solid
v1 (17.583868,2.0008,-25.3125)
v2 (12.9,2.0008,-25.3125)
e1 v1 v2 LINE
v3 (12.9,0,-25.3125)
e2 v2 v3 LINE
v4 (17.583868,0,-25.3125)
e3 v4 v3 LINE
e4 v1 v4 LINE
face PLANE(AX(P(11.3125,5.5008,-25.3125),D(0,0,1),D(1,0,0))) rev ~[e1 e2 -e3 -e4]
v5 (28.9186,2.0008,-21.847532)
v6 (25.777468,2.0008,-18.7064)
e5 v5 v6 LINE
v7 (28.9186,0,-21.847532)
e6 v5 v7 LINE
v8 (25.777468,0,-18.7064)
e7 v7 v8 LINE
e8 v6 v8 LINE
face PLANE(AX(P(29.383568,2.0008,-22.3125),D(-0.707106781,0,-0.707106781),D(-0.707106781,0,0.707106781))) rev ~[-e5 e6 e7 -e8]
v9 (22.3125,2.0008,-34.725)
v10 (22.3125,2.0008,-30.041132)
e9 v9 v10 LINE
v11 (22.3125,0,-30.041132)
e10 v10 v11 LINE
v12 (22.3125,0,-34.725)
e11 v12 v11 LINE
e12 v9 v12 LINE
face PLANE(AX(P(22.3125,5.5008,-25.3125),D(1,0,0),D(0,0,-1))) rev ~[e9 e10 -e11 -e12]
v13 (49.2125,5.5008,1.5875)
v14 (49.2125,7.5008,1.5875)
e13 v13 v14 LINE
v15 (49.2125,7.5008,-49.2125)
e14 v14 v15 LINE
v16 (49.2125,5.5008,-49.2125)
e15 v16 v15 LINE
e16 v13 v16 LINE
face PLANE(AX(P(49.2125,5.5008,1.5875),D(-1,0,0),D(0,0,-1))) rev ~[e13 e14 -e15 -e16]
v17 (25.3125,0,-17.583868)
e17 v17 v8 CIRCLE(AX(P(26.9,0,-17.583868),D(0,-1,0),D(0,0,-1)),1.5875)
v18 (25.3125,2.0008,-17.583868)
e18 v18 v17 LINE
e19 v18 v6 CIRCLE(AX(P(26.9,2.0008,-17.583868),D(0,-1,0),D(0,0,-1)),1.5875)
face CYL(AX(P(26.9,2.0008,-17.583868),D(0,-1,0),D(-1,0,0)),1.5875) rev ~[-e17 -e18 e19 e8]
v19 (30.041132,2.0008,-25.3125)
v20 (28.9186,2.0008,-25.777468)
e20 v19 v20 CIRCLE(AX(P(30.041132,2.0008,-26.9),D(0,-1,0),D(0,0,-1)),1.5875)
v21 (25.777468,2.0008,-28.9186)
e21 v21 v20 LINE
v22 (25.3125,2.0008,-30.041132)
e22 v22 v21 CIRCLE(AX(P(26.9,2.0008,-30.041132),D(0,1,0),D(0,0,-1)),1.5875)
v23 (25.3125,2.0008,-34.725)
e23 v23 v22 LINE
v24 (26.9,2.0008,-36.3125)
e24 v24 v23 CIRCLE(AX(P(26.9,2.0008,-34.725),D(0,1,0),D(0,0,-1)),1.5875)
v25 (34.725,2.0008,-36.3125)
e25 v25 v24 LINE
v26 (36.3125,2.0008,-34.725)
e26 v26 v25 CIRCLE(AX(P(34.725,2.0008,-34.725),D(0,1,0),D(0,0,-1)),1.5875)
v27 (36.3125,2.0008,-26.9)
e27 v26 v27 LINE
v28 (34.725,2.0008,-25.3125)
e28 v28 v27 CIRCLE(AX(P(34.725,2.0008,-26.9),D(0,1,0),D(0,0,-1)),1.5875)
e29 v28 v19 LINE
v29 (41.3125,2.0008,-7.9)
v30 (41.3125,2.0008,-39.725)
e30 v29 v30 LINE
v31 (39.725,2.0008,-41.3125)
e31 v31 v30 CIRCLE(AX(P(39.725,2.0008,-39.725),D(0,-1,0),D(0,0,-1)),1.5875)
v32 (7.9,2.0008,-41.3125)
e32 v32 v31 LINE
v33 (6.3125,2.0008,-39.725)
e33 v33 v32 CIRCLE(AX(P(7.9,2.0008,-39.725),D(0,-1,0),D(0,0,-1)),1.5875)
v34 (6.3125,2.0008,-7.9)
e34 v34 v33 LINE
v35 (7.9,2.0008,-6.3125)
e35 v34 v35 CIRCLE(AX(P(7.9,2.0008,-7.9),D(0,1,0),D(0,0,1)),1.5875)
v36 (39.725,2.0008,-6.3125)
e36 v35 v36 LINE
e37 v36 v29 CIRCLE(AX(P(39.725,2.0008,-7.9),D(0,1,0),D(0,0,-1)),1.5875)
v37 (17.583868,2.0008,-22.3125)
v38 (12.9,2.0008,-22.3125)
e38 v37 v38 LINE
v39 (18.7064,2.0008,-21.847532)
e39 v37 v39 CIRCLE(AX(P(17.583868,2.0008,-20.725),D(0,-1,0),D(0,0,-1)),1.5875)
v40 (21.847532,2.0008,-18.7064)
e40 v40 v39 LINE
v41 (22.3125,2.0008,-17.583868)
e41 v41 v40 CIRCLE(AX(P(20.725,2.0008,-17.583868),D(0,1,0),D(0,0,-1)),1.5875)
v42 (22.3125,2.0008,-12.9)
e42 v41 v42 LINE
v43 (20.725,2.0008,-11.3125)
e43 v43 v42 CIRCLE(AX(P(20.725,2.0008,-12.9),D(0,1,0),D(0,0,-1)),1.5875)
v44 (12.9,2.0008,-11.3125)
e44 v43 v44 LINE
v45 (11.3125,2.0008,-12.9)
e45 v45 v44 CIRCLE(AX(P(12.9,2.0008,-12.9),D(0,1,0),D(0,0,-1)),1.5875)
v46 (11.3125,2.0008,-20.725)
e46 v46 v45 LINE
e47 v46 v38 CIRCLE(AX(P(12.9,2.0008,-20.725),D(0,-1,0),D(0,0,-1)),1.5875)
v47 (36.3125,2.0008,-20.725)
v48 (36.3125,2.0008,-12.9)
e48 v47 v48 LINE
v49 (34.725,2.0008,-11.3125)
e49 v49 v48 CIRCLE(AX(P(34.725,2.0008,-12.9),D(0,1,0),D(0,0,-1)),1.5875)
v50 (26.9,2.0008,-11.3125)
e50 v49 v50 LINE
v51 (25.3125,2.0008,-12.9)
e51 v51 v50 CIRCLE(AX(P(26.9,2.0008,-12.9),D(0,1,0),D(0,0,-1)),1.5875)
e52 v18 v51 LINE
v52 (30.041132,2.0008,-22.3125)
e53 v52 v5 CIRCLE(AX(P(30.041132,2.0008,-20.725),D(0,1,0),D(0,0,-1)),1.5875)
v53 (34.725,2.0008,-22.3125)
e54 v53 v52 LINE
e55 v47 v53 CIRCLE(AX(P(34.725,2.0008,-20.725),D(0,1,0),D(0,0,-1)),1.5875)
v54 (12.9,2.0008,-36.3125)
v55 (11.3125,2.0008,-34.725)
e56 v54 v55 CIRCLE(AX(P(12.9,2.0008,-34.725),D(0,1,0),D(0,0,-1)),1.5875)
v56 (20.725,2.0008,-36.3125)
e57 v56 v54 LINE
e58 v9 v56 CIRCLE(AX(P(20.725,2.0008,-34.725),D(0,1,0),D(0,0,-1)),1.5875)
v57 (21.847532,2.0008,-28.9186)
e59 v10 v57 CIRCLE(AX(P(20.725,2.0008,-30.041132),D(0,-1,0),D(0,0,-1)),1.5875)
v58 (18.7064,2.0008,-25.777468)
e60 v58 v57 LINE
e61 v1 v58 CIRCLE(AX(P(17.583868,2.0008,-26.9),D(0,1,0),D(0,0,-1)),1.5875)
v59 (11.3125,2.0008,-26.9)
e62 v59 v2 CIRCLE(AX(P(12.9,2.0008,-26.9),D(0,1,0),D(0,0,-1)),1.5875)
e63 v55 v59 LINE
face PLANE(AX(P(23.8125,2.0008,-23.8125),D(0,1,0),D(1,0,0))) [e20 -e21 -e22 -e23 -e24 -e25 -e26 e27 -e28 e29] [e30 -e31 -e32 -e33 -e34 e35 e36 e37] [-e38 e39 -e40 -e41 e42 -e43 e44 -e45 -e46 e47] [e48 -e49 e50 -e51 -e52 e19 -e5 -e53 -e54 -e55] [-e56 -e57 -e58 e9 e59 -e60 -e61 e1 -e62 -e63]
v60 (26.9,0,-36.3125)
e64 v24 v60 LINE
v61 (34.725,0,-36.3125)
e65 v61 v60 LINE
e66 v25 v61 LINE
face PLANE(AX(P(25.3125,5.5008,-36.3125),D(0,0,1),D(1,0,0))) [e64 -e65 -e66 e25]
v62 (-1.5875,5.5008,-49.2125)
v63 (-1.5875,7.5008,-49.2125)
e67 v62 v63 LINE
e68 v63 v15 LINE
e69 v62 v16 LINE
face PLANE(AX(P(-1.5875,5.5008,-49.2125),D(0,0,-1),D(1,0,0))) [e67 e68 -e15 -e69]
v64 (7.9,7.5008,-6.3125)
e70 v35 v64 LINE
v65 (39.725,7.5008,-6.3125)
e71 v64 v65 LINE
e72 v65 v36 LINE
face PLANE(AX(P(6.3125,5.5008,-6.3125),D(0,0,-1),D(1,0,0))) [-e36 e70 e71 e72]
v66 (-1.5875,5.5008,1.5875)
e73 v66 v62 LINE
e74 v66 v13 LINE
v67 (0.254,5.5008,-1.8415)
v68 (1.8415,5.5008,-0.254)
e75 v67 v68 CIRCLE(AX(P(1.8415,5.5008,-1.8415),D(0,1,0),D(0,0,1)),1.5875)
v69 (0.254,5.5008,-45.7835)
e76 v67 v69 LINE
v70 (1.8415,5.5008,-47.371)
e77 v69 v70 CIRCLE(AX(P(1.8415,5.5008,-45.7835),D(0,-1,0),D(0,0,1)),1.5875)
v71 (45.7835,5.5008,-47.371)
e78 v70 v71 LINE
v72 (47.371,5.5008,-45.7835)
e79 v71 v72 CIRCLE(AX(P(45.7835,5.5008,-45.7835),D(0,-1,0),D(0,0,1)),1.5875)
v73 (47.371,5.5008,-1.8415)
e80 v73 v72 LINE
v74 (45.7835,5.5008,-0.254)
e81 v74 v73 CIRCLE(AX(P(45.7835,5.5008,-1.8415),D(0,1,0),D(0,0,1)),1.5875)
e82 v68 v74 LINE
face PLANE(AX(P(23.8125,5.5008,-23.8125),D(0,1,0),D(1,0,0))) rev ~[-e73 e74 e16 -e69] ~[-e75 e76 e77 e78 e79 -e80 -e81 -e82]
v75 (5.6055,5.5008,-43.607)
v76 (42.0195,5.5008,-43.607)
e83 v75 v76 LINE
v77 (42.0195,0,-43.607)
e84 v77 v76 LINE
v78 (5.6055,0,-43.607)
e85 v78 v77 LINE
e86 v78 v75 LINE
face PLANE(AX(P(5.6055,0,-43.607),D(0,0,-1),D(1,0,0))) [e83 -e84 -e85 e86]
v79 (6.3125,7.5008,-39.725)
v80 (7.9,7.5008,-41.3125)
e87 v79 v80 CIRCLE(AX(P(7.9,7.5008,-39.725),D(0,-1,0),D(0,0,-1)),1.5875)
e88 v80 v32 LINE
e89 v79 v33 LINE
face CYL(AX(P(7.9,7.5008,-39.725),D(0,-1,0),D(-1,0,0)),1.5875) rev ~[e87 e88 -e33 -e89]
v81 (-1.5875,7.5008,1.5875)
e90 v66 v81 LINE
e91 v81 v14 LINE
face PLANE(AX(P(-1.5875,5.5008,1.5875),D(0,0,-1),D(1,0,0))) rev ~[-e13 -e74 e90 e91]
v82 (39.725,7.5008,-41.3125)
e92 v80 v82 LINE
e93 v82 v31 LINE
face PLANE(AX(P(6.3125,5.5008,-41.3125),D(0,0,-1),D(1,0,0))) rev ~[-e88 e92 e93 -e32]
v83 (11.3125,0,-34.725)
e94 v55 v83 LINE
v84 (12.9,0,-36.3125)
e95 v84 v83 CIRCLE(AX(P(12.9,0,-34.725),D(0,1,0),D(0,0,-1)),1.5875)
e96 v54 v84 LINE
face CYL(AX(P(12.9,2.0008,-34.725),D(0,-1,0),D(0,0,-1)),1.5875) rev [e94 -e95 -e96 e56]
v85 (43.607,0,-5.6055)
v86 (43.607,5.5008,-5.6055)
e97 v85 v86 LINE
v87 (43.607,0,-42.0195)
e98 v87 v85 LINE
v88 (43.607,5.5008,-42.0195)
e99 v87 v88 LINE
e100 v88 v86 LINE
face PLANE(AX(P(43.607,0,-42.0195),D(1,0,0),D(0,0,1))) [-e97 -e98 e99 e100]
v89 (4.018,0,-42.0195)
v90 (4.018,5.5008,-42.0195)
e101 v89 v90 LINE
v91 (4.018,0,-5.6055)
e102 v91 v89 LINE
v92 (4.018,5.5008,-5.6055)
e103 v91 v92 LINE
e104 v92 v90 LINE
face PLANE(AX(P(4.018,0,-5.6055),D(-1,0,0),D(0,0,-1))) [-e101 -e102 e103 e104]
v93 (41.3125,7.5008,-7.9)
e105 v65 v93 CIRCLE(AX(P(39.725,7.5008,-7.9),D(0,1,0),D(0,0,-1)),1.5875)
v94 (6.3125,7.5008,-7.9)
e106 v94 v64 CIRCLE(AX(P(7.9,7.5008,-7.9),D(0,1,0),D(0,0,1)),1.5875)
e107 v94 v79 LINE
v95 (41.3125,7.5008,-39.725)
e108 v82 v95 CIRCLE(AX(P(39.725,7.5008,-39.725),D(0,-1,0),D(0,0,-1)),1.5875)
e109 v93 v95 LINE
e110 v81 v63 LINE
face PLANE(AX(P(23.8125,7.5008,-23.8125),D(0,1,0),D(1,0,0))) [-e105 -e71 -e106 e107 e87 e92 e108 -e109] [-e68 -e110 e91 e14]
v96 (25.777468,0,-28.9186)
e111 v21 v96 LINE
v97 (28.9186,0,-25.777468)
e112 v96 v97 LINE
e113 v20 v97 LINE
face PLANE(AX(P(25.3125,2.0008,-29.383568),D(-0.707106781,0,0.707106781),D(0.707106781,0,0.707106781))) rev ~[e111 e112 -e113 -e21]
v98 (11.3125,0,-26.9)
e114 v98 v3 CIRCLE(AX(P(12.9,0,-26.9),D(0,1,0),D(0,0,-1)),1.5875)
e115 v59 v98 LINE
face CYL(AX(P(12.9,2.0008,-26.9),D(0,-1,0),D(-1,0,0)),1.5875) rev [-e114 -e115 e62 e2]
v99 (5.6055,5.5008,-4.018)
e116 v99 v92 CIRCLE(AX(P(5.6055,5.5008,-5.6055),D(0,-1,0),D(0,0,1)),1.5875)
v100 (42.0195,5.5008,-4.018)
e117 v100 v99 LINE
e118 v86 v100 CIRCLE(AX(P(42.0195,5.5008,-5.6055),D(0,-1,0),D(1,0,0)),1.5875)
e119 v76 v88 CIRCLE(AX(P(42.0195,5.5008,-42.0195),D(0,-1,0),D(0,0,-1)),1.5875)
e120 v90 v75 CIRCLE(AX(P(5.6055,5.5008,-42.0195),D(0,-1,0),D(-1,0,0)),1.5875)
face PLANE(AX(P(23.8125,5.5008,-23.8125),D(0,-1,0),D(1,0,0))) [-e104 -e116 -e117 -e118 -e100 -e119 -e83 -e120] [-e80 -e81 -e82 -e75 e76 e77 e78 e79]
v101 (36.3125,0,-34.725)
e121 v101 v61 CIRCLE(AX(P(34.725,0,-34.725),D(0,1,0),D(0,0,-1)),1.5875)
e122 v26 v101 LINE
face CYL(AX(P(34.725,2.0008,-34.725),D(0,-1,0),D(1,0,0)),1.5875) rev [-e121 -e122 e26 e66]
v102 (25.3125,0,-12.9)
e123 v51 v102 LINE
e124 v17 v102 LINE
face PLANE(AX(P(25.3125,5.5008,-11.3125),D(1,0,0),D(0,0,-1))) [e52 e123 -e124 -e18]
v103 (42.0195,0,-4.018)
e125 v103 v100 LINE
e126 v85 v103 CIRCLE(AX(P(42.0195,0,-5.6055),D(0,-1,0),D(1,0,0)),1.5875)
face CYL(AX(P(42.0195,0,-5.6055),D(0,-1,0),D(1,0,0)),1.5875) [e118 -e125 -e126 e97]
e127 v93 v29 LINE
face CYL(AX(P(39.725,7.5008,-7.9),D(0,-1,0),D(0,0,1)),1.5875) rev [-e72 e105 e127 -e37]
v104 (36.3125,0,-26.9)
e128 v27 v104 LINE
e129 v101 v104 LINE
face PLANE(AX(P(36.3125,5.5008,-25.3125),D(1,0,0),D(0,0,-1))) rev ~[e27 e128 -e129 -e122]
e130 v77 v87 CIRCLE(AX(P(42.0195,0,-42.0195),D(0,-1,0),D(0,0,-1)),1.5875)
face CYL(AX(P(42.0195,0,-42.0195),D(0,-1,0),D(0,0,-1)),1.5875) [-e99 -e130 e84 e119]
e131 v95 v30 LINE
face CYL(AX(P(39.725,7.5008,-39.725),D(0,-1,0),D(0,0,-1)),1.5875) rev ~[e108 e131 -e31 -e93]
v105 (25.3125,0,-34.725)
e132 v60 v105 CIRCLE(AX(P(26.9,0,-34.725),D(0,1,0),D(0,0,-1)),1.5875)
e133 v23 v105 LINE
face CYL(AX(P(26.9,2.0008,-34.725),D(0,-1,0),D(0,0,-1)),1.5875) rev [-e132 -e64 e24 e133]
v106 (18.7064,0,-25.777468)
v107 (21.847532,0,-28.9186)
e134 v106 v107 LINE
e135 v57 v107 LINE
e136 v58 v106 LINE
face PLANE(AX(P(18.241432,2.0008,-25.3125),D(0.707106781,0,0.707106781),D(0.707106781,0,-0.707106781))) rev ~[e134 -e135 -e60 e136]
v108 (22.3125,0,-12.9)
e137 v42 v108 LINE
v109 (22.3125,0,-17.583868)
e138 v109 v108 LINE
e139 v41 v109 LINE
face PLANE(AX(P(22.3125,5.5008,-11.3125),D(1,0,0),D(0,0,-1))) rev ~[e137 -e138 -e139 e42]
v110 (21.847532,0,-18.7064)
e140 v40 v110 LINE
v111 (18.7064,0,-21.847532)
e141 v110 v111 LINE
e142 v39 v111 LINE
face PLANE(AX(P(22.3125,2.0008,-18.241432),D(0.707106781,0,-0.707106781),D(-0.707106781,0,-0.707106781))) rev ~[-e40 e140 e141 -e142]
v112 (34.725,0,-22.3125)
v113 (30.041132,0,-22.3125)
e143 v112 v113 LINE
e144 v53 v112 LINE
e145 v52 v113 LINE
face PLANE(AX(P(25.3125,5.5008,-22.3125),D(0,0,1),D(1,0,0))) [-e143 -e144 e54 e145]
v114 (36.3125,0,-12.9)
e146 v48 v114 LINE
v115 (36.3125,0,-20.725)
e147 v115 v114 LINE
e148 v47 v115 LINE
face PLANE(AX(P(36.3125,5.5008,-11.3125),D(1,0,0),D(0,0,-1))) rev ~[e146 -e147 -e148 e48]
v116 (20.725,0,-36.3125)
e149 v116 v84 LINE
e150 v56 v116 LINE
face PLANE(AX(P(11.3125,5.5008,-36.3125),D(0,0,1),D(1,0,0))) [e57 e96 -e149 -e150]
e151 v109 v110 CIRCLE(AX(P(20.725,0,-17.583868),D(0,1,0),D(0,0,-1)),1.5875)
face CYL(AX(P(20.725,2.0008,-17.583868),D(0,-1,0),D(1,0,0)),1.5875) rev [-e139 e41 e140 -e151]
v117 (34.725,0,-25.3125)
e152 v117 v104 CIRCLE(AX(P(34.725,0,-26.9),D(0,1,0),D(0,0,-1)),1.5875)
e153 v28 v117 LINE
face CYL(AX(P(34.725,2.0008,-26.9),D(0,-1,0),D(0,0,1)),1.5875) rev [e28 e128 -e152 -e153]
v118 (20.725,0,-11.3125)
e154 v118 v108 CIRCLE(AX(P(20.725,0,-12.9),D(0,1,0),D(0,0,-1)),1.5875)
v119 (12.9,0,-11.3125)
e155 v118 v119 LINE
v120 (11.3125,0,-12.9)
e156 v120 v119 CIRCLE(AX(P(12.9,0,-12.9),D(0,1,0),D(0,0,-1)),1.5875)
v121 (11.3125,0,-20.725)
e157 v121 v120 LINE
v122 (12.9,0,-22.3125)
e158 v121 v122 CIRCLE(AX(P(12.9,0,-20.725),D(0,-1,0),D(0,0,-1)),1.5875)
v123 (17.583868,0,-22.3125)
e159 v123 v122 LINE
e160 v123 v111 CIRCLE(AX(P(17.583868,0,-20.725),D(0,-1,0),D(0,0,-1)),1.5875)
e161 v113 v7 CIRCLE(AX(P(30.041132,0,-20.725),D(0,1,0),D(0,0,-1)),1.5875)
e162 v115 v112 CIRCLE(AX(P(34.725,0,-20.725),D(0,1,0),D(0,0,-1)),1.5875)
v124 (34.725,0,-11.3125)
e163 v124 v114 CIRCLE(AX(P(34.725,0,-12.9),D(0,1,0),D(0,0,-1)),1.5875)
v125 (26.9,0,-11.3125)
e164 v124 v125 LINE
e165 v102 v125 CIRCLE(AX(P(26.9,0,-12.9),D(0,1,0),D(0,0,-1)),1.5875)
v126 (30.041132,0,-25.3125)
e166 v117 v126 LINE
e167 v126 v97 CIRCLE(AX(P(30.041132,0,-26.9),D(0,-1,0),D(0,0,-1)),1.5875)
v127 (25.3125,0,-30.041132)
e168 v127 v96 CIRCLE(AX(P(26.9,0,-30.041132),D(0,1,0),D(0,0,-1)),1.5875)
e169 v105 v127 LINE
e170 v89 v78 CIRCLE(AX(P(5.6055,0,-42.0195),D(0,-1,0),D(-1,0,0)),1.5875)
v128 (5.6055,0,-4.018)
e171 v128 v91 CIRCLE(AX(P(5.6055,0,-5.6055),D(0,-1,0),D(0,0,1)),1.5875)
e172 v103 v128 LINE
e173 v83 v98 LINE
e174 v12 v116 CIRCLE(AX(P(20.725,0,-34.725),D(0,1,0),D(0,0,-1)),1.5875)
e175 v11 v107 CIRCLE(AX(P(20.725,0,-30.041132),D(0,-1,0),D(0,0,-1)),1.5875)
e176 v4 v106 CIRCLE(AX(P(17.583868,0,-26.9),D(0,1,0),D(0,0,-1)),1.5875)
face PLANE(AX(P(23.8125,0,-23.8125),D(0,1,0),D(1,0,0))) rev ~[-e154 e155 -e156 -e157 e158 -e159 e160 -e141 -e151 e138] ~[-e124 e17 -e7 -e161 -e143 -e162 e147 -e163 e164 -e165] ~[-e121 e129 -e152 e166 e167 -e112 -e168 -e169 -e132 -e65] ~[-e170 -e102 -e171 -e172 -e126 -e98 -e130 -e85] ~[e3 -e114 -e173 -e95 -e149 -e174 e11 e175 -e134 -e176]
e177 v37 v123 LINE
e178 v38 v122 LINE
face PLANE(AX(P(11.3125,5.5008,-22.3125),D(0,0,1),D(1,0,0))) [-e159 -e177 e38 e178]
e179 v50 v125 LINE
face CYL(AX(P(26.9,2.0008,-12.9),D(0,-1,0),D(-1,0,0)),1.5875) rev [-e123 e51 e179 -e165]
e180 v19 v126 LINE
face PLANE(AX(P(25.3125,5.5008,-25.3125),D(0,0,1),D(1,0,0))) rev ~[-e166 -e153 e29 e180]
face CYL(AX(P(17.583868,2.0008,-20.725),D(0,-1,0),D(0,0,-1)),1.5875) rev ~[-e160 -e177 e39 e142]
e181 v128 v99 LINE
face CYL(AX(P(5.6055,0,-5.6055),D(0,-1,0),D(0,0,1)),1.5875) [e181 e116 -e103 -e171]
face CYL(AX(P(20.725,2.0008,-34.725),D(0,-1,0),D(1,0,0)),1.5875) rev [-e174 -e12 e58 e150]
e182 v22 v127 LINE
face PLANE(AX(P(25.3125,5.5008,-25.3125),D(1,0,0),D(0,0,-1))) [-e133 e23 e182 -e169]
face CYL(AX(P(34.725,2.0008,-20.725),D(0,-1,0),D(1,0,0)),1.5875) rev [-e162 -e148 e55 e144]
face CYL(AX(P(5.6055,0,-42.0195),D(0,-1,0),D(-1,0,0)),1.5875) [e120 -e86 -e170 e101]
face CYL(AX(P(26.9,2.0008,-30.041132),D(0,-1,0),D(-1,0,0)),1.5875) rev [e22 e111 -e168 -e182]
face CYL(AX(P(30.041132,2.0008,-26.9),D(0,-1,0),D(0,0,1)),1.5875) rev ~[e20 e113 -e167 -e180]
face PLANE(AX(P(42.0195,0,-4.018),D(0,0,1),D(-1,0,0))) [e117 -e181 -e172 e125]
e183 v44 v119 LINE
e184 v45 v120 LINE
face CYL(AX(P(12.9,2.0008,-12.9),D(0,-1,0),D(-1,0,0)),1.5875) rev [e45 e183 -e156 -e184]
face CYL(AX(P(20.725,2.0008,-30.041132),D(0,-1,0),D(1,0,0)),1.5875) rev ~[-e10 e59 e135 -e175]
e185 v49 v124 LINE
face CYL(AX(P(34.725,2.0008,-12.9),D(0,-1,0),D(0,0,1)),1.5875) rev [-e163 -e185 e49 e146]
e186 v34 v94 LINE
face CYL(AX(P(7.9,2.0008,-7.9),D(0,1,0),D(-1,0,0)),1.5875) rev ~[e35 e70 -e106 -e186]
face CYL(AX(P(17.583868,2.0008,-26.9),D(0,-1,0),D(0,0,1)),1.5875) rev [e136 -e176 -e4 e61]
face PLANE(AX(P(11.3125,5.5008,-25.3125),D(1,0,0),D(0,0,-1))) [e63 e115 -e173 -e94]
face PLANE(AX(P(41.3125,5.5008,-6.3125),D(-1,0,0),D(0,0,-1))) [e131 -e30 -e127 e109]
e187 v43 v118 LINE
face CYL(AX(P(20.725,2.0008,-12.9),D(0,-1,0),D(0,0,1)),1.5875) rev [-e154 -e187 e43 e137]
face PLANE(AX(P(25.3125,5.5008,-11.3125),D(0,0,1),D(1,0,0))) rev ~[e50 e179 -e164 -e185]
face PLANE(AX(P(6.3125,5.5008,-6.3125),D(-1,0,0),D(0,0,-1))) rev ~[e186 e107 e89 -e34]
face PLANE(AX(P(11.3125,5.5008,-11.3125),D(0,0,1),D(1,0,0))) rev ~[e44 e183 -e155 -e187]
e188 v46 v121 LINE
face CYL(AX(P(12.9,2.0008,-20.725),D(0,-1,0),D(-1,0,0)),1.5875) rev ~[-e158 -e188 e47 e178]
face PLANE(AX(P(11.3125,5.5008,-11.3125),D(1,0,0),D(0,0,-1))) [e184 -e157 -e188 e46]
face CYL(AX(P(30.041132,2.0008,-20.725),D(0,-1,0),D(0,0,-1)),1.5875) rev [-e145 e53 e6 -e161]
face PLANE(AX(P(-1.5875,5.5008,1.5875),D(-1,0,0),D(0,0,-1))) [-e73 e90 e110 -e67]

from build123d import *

# Parameters (mm, degrees)
SKETCH3_W           = 47.117
SKETCH3_H           = 47.117
BOSS_EXTRUDE1_DEPTH = 5.500799822
CUT_EXTRUDE2_REACH  = 7.501
SKETCH6_W           = 11
SKETCH6_H           = 11
SKETCH7_W           = 50.8
SKETCH7_H           = 50.8
SKETCH7_W_2         = 35
SKETCH7_H_2         = 35
BOSS_EXTRUDE2_DEPTH = 1.999999976
SKETCH12_W          = 35
SKETCH12_H          = 35
CUT_EXTRUDE3_DEPTH  = 3.499999912
BOSS_EXTRUDE4_DEPTH = 2.0008
FILLET3_R           = 1.5875
CUT_EXTRUDE5_DEPTH  = 5.5008


with BuildPart() as part:
    # Sketch3 → Boss-Extrude1 (new body)
    with BuildSketch(Plane(origin=(0, 0, 0), x_dir=(1, 0, 0), z_dir=(0, 1, 0))):
        with Locations((23.8125, 23.8125)):
            Rectangle(SKETCH3_W, SKETCH3_H)
    extrude(amount=BOSS_EXTRUDE1_DEPTH)

    # Sketch6 → Cut-Extrude2 (cut, up to next)
    with BuildSketch(Plane(origin=(0, 5.500799822, 0), x_dir=(1, 0, 0), z_dir=(0, 1, 0)), mode=Mode.PRIVATE) as cut_extrude2_sk1:
        with Locations((16.8125, 30.8125)):
            Rectangle(SKETCH6_W, SKETCH6_H)
    cut_extrude2_tool1 = extrude(cut_extrude2_sk1.sketch, amount=-CUT_EXTRUDE2_REACH, mode=Mode.PRIVATE) & part.part
    add(cut_extrude2_tool1.solids().sort_by_distance((16.8125, 5.5008, -30.8125))[0], mode=Mode.SUBTRACT)
    # Sketch6 → Cut-Extrude2 (cut, up to next)
    with BuildSketch(Plane(origin=(0, 5.500799822, 0), x_dir=(1, 0, 0), z_dir=(0, 1, 0)), mode=Mode.PRIVATE) as cut_extrude2_sk2:
        with Locations((30.8125, 30.8125)):
            Rectangle(SKETCH6_W, SKETCH6_H)
    cut_extrude2_tool2 = extrude(cut_extrude2_sk2.sketch, amount=-CUT_EXTRUDE2_REACH, mode=Mode.PRIVATE) & part.part
    add(cut_extrude2_tool2.solids().sort_by_distance((30.8125, 5.5008, -30.8125))[0], mode=Mode.SUBTRACT)
    # Sketch6 → Cut-Extrude2 (cut, up to next)
    with BuildSketch(Plane(origin=(0, 5.500799822, 0), x_dir=(1, 0, 0), z_dir=(0, 1, 0)), mode=Mode.PRIVATE) as cut_extrude2_sk3:
        with Locations((30.8125, 16.8125)):
            Rectangle(SKETCH6_W, SKETCH6_H)
    cut_extrude2_tool3 = extrude(cut_extrude2_sk3.sketch, amount=-CUT_EXTRUDE2_REACH, mode=Mode.PRIVATE) & part.part
    add(cut_extrude2_tool3.solids().sort_by_distance((30.8125, 5.5008, -16.8125))[0], mode=Mode.SUBTRACT)
    # Sketch6 → Cut-Extrude2 (cut, up to next)
    with BuildSketch(Plane(origin=(0, 5.500799822, 0), x_dir=(1, 0, 0), z_dir=(0, 1, 0)), mode=Mode.PRIVATE) as cut_extrude2_sk4:
        with Locations((16.8125, 16.8125)):
            Rectangle(SKETCH6_W, SKETCH6_H)
    cut_extrude2_tool4 = extrude(cut_extrude2_sk4.sketch, amount=-CUT_EXTRUDE2_REACH, mode=Mode.PRIVATE) & part.part
    add(cut_extrude2_tool4.solids().sort_by_distance((16.8125, 5.5008, -16.8125))[0], mode=Mode.SUBTRACT)

    # Sketch7 → Boss-Extrude2 (add)
    with BuildSketch(Plane(origin=(0, 5.500799822, 0), x_dir=(1, 0, 0), z_dir=(0, 1, 0))):
        with Locations((23.8125, 23.8125)):
            Rectangle(SKETCH7_W, SKETCH7_H)
        with Locations((23.8125, 23.8125)):
            Rectangle(SKETCH7_W_2, SKETCH7_H_2, mode=Mode.SUBTRACT)
    extrude(amount=BOSS_EXTRUDE2_DEPTH)

    # Sketch12 → Cut-Extrude3 (cut)
    with BuildSketch(Plane(origin=(0, 5.500799822, 0), x_dir=(1, 0, 0), z_dir=(0, 1, 0))):
        with Locations((23.8125, 23.8125)):
            Rectangle(SKETCH12_W, SKETCH12_H)
    extrude(amount=-CUT_EXTRUDE3_DEPTH, mode=Mode.SUBTRACT)

    # Sketch11 → Boss-Extrude4 (add)
    with BuildSketch(Plane(origin=(0, 2.00079991, 0), x_dir=(1, 0, 0), z_dir=(0, 1, 0))):
        Polygon((22.3125, 29.383567812), (25.3125, 29.383567812), (29.383567812, 25.3125), (29.383567812, 22.3125), (25.3125, 18.241432188), (22.3125, 18.241432188), (18.241432188, 22.3125), (18.241432188, 25.3125), align=None)
    extrude(amount=-BOSS_EXTRUDE4_DEPTH)

    # Fillet3
    fillet3_edges = [part.edges().sort_by_distance(p)[0] for p in [
        (29.383567812, 1.00039991, -22.3125),
        (25.3125, 1.00039991, -18.241432188),
        (22.3125, 1.00039991, -18.241432188),
        (18.241432188, 1.00039991, -22.3125),
        (18.241432188, 1.00039991, -25.3125),
        (22.3125, 1.00039991, -29.383567812),
        (25.3125, 1.00039991, -29.383567812),
        (29.383567812, 1.00039991, -25.3125),
        (36.3125, 1.000399955, -22.3125),
        (36.3125, 1.000399955, -11.3125),
        (25.3125, 1.000399955, -11.3125),
        (11.3125, 1.000399955, -36.3125),
        (22.3125, 1.000399955, -36.3125),
        (11.3125, 1.000399955, -25.3125),
        (22.3125, 1.000399955, -11.3125),
        (11.3125, 1.000399955, -11.3125),
        (11.3125, 1.000399955, -22.3125),
        (36.3125, 1.000399955, -25.3125),
        (25.3125, 1.000399955, -36.3125),
        (36.3125, 1.000399955, -36.3125),
        (6.3125, 4.750799854, -6.3125),
        (41.3125, 4.750799854, -6.3125),
        (41.3125, 4.750799854, -41.3125),
        (6.3125, 4.750799854, -41.3125),
        (0.254, 2.750399911, -47.371),
        (47.371, 2.750399911, -47.371),
        (47.371, 2.750399911, -0.254),
        (0.254, 2.750399911, -0.254),
    ]]
    fillet(fillet3_edges, radius=FILLET3_R)

    # Sketch13 → Cut-Extrude5 (cut)
    with BuildSketch(Plane.XZ):
        with BuildLine():
            Line((0.254, -1.8415), (0.254, -45.7835))
            ThreePointArc((0.254, -45.7835), (0.718967985, -46.906032015), (1.8415, -47.371))
            Line((1.8415, -47.371), (45.7835, -47.371))
            ThreePointArc((45.7835, -47.371), (46.906032015, -46.906032015), (47.371, -45.7835))
            Line((47.371, -45.7835), (47.371, -1.8415))
            ThreePointArc((47.371, -1.8415), (46.906032015, -0.718967985), (45.7835, -0.254))
            Line((45.7835, -0.254), (1.8415, -0.254))
            ThreePointArc((1.8415, -0.254), (0.718967985, -0.718967985), (0.254, -1.8415))
        make_face()
        with BuildLine():
            Line((4.018000092, -5.605500092), (4.018000092, -42.019499908))
            ThreePointArc((4.018000092, -42.019499908), (4.482968077, -43.142031923), (5.605500092, -43.606999908))
            Line((5.605500092, -43.606999908), (42.019499908, -43.606999908))
            ThreePointArc((42.019499908, -43.606999908), (43.142031923, -43.142031923), (43.606999908, -42.019499908))
            Line((43.606999908, -42.019499908), (43.606999908, -5.605500092))
            ThreePointArc((43.606999908, -5.605500092), (43.142031923, -4.482968077), (42.019499908, -4.018000092))
            Line((42.019499908, -4.018000092), (5.605500092, -4.018000092))
            ThreePointArc((5.605500092, -4.018000092), (4.482968077, -4.482968077), (4.018000092, -5.605500092))
        make_face(mode=Mode.SUBTRACT)
    extrude(amount=-CUT_EXTRUDE5_DEPTH, mode=Mode.SUBTRACT)


solid = part.part
